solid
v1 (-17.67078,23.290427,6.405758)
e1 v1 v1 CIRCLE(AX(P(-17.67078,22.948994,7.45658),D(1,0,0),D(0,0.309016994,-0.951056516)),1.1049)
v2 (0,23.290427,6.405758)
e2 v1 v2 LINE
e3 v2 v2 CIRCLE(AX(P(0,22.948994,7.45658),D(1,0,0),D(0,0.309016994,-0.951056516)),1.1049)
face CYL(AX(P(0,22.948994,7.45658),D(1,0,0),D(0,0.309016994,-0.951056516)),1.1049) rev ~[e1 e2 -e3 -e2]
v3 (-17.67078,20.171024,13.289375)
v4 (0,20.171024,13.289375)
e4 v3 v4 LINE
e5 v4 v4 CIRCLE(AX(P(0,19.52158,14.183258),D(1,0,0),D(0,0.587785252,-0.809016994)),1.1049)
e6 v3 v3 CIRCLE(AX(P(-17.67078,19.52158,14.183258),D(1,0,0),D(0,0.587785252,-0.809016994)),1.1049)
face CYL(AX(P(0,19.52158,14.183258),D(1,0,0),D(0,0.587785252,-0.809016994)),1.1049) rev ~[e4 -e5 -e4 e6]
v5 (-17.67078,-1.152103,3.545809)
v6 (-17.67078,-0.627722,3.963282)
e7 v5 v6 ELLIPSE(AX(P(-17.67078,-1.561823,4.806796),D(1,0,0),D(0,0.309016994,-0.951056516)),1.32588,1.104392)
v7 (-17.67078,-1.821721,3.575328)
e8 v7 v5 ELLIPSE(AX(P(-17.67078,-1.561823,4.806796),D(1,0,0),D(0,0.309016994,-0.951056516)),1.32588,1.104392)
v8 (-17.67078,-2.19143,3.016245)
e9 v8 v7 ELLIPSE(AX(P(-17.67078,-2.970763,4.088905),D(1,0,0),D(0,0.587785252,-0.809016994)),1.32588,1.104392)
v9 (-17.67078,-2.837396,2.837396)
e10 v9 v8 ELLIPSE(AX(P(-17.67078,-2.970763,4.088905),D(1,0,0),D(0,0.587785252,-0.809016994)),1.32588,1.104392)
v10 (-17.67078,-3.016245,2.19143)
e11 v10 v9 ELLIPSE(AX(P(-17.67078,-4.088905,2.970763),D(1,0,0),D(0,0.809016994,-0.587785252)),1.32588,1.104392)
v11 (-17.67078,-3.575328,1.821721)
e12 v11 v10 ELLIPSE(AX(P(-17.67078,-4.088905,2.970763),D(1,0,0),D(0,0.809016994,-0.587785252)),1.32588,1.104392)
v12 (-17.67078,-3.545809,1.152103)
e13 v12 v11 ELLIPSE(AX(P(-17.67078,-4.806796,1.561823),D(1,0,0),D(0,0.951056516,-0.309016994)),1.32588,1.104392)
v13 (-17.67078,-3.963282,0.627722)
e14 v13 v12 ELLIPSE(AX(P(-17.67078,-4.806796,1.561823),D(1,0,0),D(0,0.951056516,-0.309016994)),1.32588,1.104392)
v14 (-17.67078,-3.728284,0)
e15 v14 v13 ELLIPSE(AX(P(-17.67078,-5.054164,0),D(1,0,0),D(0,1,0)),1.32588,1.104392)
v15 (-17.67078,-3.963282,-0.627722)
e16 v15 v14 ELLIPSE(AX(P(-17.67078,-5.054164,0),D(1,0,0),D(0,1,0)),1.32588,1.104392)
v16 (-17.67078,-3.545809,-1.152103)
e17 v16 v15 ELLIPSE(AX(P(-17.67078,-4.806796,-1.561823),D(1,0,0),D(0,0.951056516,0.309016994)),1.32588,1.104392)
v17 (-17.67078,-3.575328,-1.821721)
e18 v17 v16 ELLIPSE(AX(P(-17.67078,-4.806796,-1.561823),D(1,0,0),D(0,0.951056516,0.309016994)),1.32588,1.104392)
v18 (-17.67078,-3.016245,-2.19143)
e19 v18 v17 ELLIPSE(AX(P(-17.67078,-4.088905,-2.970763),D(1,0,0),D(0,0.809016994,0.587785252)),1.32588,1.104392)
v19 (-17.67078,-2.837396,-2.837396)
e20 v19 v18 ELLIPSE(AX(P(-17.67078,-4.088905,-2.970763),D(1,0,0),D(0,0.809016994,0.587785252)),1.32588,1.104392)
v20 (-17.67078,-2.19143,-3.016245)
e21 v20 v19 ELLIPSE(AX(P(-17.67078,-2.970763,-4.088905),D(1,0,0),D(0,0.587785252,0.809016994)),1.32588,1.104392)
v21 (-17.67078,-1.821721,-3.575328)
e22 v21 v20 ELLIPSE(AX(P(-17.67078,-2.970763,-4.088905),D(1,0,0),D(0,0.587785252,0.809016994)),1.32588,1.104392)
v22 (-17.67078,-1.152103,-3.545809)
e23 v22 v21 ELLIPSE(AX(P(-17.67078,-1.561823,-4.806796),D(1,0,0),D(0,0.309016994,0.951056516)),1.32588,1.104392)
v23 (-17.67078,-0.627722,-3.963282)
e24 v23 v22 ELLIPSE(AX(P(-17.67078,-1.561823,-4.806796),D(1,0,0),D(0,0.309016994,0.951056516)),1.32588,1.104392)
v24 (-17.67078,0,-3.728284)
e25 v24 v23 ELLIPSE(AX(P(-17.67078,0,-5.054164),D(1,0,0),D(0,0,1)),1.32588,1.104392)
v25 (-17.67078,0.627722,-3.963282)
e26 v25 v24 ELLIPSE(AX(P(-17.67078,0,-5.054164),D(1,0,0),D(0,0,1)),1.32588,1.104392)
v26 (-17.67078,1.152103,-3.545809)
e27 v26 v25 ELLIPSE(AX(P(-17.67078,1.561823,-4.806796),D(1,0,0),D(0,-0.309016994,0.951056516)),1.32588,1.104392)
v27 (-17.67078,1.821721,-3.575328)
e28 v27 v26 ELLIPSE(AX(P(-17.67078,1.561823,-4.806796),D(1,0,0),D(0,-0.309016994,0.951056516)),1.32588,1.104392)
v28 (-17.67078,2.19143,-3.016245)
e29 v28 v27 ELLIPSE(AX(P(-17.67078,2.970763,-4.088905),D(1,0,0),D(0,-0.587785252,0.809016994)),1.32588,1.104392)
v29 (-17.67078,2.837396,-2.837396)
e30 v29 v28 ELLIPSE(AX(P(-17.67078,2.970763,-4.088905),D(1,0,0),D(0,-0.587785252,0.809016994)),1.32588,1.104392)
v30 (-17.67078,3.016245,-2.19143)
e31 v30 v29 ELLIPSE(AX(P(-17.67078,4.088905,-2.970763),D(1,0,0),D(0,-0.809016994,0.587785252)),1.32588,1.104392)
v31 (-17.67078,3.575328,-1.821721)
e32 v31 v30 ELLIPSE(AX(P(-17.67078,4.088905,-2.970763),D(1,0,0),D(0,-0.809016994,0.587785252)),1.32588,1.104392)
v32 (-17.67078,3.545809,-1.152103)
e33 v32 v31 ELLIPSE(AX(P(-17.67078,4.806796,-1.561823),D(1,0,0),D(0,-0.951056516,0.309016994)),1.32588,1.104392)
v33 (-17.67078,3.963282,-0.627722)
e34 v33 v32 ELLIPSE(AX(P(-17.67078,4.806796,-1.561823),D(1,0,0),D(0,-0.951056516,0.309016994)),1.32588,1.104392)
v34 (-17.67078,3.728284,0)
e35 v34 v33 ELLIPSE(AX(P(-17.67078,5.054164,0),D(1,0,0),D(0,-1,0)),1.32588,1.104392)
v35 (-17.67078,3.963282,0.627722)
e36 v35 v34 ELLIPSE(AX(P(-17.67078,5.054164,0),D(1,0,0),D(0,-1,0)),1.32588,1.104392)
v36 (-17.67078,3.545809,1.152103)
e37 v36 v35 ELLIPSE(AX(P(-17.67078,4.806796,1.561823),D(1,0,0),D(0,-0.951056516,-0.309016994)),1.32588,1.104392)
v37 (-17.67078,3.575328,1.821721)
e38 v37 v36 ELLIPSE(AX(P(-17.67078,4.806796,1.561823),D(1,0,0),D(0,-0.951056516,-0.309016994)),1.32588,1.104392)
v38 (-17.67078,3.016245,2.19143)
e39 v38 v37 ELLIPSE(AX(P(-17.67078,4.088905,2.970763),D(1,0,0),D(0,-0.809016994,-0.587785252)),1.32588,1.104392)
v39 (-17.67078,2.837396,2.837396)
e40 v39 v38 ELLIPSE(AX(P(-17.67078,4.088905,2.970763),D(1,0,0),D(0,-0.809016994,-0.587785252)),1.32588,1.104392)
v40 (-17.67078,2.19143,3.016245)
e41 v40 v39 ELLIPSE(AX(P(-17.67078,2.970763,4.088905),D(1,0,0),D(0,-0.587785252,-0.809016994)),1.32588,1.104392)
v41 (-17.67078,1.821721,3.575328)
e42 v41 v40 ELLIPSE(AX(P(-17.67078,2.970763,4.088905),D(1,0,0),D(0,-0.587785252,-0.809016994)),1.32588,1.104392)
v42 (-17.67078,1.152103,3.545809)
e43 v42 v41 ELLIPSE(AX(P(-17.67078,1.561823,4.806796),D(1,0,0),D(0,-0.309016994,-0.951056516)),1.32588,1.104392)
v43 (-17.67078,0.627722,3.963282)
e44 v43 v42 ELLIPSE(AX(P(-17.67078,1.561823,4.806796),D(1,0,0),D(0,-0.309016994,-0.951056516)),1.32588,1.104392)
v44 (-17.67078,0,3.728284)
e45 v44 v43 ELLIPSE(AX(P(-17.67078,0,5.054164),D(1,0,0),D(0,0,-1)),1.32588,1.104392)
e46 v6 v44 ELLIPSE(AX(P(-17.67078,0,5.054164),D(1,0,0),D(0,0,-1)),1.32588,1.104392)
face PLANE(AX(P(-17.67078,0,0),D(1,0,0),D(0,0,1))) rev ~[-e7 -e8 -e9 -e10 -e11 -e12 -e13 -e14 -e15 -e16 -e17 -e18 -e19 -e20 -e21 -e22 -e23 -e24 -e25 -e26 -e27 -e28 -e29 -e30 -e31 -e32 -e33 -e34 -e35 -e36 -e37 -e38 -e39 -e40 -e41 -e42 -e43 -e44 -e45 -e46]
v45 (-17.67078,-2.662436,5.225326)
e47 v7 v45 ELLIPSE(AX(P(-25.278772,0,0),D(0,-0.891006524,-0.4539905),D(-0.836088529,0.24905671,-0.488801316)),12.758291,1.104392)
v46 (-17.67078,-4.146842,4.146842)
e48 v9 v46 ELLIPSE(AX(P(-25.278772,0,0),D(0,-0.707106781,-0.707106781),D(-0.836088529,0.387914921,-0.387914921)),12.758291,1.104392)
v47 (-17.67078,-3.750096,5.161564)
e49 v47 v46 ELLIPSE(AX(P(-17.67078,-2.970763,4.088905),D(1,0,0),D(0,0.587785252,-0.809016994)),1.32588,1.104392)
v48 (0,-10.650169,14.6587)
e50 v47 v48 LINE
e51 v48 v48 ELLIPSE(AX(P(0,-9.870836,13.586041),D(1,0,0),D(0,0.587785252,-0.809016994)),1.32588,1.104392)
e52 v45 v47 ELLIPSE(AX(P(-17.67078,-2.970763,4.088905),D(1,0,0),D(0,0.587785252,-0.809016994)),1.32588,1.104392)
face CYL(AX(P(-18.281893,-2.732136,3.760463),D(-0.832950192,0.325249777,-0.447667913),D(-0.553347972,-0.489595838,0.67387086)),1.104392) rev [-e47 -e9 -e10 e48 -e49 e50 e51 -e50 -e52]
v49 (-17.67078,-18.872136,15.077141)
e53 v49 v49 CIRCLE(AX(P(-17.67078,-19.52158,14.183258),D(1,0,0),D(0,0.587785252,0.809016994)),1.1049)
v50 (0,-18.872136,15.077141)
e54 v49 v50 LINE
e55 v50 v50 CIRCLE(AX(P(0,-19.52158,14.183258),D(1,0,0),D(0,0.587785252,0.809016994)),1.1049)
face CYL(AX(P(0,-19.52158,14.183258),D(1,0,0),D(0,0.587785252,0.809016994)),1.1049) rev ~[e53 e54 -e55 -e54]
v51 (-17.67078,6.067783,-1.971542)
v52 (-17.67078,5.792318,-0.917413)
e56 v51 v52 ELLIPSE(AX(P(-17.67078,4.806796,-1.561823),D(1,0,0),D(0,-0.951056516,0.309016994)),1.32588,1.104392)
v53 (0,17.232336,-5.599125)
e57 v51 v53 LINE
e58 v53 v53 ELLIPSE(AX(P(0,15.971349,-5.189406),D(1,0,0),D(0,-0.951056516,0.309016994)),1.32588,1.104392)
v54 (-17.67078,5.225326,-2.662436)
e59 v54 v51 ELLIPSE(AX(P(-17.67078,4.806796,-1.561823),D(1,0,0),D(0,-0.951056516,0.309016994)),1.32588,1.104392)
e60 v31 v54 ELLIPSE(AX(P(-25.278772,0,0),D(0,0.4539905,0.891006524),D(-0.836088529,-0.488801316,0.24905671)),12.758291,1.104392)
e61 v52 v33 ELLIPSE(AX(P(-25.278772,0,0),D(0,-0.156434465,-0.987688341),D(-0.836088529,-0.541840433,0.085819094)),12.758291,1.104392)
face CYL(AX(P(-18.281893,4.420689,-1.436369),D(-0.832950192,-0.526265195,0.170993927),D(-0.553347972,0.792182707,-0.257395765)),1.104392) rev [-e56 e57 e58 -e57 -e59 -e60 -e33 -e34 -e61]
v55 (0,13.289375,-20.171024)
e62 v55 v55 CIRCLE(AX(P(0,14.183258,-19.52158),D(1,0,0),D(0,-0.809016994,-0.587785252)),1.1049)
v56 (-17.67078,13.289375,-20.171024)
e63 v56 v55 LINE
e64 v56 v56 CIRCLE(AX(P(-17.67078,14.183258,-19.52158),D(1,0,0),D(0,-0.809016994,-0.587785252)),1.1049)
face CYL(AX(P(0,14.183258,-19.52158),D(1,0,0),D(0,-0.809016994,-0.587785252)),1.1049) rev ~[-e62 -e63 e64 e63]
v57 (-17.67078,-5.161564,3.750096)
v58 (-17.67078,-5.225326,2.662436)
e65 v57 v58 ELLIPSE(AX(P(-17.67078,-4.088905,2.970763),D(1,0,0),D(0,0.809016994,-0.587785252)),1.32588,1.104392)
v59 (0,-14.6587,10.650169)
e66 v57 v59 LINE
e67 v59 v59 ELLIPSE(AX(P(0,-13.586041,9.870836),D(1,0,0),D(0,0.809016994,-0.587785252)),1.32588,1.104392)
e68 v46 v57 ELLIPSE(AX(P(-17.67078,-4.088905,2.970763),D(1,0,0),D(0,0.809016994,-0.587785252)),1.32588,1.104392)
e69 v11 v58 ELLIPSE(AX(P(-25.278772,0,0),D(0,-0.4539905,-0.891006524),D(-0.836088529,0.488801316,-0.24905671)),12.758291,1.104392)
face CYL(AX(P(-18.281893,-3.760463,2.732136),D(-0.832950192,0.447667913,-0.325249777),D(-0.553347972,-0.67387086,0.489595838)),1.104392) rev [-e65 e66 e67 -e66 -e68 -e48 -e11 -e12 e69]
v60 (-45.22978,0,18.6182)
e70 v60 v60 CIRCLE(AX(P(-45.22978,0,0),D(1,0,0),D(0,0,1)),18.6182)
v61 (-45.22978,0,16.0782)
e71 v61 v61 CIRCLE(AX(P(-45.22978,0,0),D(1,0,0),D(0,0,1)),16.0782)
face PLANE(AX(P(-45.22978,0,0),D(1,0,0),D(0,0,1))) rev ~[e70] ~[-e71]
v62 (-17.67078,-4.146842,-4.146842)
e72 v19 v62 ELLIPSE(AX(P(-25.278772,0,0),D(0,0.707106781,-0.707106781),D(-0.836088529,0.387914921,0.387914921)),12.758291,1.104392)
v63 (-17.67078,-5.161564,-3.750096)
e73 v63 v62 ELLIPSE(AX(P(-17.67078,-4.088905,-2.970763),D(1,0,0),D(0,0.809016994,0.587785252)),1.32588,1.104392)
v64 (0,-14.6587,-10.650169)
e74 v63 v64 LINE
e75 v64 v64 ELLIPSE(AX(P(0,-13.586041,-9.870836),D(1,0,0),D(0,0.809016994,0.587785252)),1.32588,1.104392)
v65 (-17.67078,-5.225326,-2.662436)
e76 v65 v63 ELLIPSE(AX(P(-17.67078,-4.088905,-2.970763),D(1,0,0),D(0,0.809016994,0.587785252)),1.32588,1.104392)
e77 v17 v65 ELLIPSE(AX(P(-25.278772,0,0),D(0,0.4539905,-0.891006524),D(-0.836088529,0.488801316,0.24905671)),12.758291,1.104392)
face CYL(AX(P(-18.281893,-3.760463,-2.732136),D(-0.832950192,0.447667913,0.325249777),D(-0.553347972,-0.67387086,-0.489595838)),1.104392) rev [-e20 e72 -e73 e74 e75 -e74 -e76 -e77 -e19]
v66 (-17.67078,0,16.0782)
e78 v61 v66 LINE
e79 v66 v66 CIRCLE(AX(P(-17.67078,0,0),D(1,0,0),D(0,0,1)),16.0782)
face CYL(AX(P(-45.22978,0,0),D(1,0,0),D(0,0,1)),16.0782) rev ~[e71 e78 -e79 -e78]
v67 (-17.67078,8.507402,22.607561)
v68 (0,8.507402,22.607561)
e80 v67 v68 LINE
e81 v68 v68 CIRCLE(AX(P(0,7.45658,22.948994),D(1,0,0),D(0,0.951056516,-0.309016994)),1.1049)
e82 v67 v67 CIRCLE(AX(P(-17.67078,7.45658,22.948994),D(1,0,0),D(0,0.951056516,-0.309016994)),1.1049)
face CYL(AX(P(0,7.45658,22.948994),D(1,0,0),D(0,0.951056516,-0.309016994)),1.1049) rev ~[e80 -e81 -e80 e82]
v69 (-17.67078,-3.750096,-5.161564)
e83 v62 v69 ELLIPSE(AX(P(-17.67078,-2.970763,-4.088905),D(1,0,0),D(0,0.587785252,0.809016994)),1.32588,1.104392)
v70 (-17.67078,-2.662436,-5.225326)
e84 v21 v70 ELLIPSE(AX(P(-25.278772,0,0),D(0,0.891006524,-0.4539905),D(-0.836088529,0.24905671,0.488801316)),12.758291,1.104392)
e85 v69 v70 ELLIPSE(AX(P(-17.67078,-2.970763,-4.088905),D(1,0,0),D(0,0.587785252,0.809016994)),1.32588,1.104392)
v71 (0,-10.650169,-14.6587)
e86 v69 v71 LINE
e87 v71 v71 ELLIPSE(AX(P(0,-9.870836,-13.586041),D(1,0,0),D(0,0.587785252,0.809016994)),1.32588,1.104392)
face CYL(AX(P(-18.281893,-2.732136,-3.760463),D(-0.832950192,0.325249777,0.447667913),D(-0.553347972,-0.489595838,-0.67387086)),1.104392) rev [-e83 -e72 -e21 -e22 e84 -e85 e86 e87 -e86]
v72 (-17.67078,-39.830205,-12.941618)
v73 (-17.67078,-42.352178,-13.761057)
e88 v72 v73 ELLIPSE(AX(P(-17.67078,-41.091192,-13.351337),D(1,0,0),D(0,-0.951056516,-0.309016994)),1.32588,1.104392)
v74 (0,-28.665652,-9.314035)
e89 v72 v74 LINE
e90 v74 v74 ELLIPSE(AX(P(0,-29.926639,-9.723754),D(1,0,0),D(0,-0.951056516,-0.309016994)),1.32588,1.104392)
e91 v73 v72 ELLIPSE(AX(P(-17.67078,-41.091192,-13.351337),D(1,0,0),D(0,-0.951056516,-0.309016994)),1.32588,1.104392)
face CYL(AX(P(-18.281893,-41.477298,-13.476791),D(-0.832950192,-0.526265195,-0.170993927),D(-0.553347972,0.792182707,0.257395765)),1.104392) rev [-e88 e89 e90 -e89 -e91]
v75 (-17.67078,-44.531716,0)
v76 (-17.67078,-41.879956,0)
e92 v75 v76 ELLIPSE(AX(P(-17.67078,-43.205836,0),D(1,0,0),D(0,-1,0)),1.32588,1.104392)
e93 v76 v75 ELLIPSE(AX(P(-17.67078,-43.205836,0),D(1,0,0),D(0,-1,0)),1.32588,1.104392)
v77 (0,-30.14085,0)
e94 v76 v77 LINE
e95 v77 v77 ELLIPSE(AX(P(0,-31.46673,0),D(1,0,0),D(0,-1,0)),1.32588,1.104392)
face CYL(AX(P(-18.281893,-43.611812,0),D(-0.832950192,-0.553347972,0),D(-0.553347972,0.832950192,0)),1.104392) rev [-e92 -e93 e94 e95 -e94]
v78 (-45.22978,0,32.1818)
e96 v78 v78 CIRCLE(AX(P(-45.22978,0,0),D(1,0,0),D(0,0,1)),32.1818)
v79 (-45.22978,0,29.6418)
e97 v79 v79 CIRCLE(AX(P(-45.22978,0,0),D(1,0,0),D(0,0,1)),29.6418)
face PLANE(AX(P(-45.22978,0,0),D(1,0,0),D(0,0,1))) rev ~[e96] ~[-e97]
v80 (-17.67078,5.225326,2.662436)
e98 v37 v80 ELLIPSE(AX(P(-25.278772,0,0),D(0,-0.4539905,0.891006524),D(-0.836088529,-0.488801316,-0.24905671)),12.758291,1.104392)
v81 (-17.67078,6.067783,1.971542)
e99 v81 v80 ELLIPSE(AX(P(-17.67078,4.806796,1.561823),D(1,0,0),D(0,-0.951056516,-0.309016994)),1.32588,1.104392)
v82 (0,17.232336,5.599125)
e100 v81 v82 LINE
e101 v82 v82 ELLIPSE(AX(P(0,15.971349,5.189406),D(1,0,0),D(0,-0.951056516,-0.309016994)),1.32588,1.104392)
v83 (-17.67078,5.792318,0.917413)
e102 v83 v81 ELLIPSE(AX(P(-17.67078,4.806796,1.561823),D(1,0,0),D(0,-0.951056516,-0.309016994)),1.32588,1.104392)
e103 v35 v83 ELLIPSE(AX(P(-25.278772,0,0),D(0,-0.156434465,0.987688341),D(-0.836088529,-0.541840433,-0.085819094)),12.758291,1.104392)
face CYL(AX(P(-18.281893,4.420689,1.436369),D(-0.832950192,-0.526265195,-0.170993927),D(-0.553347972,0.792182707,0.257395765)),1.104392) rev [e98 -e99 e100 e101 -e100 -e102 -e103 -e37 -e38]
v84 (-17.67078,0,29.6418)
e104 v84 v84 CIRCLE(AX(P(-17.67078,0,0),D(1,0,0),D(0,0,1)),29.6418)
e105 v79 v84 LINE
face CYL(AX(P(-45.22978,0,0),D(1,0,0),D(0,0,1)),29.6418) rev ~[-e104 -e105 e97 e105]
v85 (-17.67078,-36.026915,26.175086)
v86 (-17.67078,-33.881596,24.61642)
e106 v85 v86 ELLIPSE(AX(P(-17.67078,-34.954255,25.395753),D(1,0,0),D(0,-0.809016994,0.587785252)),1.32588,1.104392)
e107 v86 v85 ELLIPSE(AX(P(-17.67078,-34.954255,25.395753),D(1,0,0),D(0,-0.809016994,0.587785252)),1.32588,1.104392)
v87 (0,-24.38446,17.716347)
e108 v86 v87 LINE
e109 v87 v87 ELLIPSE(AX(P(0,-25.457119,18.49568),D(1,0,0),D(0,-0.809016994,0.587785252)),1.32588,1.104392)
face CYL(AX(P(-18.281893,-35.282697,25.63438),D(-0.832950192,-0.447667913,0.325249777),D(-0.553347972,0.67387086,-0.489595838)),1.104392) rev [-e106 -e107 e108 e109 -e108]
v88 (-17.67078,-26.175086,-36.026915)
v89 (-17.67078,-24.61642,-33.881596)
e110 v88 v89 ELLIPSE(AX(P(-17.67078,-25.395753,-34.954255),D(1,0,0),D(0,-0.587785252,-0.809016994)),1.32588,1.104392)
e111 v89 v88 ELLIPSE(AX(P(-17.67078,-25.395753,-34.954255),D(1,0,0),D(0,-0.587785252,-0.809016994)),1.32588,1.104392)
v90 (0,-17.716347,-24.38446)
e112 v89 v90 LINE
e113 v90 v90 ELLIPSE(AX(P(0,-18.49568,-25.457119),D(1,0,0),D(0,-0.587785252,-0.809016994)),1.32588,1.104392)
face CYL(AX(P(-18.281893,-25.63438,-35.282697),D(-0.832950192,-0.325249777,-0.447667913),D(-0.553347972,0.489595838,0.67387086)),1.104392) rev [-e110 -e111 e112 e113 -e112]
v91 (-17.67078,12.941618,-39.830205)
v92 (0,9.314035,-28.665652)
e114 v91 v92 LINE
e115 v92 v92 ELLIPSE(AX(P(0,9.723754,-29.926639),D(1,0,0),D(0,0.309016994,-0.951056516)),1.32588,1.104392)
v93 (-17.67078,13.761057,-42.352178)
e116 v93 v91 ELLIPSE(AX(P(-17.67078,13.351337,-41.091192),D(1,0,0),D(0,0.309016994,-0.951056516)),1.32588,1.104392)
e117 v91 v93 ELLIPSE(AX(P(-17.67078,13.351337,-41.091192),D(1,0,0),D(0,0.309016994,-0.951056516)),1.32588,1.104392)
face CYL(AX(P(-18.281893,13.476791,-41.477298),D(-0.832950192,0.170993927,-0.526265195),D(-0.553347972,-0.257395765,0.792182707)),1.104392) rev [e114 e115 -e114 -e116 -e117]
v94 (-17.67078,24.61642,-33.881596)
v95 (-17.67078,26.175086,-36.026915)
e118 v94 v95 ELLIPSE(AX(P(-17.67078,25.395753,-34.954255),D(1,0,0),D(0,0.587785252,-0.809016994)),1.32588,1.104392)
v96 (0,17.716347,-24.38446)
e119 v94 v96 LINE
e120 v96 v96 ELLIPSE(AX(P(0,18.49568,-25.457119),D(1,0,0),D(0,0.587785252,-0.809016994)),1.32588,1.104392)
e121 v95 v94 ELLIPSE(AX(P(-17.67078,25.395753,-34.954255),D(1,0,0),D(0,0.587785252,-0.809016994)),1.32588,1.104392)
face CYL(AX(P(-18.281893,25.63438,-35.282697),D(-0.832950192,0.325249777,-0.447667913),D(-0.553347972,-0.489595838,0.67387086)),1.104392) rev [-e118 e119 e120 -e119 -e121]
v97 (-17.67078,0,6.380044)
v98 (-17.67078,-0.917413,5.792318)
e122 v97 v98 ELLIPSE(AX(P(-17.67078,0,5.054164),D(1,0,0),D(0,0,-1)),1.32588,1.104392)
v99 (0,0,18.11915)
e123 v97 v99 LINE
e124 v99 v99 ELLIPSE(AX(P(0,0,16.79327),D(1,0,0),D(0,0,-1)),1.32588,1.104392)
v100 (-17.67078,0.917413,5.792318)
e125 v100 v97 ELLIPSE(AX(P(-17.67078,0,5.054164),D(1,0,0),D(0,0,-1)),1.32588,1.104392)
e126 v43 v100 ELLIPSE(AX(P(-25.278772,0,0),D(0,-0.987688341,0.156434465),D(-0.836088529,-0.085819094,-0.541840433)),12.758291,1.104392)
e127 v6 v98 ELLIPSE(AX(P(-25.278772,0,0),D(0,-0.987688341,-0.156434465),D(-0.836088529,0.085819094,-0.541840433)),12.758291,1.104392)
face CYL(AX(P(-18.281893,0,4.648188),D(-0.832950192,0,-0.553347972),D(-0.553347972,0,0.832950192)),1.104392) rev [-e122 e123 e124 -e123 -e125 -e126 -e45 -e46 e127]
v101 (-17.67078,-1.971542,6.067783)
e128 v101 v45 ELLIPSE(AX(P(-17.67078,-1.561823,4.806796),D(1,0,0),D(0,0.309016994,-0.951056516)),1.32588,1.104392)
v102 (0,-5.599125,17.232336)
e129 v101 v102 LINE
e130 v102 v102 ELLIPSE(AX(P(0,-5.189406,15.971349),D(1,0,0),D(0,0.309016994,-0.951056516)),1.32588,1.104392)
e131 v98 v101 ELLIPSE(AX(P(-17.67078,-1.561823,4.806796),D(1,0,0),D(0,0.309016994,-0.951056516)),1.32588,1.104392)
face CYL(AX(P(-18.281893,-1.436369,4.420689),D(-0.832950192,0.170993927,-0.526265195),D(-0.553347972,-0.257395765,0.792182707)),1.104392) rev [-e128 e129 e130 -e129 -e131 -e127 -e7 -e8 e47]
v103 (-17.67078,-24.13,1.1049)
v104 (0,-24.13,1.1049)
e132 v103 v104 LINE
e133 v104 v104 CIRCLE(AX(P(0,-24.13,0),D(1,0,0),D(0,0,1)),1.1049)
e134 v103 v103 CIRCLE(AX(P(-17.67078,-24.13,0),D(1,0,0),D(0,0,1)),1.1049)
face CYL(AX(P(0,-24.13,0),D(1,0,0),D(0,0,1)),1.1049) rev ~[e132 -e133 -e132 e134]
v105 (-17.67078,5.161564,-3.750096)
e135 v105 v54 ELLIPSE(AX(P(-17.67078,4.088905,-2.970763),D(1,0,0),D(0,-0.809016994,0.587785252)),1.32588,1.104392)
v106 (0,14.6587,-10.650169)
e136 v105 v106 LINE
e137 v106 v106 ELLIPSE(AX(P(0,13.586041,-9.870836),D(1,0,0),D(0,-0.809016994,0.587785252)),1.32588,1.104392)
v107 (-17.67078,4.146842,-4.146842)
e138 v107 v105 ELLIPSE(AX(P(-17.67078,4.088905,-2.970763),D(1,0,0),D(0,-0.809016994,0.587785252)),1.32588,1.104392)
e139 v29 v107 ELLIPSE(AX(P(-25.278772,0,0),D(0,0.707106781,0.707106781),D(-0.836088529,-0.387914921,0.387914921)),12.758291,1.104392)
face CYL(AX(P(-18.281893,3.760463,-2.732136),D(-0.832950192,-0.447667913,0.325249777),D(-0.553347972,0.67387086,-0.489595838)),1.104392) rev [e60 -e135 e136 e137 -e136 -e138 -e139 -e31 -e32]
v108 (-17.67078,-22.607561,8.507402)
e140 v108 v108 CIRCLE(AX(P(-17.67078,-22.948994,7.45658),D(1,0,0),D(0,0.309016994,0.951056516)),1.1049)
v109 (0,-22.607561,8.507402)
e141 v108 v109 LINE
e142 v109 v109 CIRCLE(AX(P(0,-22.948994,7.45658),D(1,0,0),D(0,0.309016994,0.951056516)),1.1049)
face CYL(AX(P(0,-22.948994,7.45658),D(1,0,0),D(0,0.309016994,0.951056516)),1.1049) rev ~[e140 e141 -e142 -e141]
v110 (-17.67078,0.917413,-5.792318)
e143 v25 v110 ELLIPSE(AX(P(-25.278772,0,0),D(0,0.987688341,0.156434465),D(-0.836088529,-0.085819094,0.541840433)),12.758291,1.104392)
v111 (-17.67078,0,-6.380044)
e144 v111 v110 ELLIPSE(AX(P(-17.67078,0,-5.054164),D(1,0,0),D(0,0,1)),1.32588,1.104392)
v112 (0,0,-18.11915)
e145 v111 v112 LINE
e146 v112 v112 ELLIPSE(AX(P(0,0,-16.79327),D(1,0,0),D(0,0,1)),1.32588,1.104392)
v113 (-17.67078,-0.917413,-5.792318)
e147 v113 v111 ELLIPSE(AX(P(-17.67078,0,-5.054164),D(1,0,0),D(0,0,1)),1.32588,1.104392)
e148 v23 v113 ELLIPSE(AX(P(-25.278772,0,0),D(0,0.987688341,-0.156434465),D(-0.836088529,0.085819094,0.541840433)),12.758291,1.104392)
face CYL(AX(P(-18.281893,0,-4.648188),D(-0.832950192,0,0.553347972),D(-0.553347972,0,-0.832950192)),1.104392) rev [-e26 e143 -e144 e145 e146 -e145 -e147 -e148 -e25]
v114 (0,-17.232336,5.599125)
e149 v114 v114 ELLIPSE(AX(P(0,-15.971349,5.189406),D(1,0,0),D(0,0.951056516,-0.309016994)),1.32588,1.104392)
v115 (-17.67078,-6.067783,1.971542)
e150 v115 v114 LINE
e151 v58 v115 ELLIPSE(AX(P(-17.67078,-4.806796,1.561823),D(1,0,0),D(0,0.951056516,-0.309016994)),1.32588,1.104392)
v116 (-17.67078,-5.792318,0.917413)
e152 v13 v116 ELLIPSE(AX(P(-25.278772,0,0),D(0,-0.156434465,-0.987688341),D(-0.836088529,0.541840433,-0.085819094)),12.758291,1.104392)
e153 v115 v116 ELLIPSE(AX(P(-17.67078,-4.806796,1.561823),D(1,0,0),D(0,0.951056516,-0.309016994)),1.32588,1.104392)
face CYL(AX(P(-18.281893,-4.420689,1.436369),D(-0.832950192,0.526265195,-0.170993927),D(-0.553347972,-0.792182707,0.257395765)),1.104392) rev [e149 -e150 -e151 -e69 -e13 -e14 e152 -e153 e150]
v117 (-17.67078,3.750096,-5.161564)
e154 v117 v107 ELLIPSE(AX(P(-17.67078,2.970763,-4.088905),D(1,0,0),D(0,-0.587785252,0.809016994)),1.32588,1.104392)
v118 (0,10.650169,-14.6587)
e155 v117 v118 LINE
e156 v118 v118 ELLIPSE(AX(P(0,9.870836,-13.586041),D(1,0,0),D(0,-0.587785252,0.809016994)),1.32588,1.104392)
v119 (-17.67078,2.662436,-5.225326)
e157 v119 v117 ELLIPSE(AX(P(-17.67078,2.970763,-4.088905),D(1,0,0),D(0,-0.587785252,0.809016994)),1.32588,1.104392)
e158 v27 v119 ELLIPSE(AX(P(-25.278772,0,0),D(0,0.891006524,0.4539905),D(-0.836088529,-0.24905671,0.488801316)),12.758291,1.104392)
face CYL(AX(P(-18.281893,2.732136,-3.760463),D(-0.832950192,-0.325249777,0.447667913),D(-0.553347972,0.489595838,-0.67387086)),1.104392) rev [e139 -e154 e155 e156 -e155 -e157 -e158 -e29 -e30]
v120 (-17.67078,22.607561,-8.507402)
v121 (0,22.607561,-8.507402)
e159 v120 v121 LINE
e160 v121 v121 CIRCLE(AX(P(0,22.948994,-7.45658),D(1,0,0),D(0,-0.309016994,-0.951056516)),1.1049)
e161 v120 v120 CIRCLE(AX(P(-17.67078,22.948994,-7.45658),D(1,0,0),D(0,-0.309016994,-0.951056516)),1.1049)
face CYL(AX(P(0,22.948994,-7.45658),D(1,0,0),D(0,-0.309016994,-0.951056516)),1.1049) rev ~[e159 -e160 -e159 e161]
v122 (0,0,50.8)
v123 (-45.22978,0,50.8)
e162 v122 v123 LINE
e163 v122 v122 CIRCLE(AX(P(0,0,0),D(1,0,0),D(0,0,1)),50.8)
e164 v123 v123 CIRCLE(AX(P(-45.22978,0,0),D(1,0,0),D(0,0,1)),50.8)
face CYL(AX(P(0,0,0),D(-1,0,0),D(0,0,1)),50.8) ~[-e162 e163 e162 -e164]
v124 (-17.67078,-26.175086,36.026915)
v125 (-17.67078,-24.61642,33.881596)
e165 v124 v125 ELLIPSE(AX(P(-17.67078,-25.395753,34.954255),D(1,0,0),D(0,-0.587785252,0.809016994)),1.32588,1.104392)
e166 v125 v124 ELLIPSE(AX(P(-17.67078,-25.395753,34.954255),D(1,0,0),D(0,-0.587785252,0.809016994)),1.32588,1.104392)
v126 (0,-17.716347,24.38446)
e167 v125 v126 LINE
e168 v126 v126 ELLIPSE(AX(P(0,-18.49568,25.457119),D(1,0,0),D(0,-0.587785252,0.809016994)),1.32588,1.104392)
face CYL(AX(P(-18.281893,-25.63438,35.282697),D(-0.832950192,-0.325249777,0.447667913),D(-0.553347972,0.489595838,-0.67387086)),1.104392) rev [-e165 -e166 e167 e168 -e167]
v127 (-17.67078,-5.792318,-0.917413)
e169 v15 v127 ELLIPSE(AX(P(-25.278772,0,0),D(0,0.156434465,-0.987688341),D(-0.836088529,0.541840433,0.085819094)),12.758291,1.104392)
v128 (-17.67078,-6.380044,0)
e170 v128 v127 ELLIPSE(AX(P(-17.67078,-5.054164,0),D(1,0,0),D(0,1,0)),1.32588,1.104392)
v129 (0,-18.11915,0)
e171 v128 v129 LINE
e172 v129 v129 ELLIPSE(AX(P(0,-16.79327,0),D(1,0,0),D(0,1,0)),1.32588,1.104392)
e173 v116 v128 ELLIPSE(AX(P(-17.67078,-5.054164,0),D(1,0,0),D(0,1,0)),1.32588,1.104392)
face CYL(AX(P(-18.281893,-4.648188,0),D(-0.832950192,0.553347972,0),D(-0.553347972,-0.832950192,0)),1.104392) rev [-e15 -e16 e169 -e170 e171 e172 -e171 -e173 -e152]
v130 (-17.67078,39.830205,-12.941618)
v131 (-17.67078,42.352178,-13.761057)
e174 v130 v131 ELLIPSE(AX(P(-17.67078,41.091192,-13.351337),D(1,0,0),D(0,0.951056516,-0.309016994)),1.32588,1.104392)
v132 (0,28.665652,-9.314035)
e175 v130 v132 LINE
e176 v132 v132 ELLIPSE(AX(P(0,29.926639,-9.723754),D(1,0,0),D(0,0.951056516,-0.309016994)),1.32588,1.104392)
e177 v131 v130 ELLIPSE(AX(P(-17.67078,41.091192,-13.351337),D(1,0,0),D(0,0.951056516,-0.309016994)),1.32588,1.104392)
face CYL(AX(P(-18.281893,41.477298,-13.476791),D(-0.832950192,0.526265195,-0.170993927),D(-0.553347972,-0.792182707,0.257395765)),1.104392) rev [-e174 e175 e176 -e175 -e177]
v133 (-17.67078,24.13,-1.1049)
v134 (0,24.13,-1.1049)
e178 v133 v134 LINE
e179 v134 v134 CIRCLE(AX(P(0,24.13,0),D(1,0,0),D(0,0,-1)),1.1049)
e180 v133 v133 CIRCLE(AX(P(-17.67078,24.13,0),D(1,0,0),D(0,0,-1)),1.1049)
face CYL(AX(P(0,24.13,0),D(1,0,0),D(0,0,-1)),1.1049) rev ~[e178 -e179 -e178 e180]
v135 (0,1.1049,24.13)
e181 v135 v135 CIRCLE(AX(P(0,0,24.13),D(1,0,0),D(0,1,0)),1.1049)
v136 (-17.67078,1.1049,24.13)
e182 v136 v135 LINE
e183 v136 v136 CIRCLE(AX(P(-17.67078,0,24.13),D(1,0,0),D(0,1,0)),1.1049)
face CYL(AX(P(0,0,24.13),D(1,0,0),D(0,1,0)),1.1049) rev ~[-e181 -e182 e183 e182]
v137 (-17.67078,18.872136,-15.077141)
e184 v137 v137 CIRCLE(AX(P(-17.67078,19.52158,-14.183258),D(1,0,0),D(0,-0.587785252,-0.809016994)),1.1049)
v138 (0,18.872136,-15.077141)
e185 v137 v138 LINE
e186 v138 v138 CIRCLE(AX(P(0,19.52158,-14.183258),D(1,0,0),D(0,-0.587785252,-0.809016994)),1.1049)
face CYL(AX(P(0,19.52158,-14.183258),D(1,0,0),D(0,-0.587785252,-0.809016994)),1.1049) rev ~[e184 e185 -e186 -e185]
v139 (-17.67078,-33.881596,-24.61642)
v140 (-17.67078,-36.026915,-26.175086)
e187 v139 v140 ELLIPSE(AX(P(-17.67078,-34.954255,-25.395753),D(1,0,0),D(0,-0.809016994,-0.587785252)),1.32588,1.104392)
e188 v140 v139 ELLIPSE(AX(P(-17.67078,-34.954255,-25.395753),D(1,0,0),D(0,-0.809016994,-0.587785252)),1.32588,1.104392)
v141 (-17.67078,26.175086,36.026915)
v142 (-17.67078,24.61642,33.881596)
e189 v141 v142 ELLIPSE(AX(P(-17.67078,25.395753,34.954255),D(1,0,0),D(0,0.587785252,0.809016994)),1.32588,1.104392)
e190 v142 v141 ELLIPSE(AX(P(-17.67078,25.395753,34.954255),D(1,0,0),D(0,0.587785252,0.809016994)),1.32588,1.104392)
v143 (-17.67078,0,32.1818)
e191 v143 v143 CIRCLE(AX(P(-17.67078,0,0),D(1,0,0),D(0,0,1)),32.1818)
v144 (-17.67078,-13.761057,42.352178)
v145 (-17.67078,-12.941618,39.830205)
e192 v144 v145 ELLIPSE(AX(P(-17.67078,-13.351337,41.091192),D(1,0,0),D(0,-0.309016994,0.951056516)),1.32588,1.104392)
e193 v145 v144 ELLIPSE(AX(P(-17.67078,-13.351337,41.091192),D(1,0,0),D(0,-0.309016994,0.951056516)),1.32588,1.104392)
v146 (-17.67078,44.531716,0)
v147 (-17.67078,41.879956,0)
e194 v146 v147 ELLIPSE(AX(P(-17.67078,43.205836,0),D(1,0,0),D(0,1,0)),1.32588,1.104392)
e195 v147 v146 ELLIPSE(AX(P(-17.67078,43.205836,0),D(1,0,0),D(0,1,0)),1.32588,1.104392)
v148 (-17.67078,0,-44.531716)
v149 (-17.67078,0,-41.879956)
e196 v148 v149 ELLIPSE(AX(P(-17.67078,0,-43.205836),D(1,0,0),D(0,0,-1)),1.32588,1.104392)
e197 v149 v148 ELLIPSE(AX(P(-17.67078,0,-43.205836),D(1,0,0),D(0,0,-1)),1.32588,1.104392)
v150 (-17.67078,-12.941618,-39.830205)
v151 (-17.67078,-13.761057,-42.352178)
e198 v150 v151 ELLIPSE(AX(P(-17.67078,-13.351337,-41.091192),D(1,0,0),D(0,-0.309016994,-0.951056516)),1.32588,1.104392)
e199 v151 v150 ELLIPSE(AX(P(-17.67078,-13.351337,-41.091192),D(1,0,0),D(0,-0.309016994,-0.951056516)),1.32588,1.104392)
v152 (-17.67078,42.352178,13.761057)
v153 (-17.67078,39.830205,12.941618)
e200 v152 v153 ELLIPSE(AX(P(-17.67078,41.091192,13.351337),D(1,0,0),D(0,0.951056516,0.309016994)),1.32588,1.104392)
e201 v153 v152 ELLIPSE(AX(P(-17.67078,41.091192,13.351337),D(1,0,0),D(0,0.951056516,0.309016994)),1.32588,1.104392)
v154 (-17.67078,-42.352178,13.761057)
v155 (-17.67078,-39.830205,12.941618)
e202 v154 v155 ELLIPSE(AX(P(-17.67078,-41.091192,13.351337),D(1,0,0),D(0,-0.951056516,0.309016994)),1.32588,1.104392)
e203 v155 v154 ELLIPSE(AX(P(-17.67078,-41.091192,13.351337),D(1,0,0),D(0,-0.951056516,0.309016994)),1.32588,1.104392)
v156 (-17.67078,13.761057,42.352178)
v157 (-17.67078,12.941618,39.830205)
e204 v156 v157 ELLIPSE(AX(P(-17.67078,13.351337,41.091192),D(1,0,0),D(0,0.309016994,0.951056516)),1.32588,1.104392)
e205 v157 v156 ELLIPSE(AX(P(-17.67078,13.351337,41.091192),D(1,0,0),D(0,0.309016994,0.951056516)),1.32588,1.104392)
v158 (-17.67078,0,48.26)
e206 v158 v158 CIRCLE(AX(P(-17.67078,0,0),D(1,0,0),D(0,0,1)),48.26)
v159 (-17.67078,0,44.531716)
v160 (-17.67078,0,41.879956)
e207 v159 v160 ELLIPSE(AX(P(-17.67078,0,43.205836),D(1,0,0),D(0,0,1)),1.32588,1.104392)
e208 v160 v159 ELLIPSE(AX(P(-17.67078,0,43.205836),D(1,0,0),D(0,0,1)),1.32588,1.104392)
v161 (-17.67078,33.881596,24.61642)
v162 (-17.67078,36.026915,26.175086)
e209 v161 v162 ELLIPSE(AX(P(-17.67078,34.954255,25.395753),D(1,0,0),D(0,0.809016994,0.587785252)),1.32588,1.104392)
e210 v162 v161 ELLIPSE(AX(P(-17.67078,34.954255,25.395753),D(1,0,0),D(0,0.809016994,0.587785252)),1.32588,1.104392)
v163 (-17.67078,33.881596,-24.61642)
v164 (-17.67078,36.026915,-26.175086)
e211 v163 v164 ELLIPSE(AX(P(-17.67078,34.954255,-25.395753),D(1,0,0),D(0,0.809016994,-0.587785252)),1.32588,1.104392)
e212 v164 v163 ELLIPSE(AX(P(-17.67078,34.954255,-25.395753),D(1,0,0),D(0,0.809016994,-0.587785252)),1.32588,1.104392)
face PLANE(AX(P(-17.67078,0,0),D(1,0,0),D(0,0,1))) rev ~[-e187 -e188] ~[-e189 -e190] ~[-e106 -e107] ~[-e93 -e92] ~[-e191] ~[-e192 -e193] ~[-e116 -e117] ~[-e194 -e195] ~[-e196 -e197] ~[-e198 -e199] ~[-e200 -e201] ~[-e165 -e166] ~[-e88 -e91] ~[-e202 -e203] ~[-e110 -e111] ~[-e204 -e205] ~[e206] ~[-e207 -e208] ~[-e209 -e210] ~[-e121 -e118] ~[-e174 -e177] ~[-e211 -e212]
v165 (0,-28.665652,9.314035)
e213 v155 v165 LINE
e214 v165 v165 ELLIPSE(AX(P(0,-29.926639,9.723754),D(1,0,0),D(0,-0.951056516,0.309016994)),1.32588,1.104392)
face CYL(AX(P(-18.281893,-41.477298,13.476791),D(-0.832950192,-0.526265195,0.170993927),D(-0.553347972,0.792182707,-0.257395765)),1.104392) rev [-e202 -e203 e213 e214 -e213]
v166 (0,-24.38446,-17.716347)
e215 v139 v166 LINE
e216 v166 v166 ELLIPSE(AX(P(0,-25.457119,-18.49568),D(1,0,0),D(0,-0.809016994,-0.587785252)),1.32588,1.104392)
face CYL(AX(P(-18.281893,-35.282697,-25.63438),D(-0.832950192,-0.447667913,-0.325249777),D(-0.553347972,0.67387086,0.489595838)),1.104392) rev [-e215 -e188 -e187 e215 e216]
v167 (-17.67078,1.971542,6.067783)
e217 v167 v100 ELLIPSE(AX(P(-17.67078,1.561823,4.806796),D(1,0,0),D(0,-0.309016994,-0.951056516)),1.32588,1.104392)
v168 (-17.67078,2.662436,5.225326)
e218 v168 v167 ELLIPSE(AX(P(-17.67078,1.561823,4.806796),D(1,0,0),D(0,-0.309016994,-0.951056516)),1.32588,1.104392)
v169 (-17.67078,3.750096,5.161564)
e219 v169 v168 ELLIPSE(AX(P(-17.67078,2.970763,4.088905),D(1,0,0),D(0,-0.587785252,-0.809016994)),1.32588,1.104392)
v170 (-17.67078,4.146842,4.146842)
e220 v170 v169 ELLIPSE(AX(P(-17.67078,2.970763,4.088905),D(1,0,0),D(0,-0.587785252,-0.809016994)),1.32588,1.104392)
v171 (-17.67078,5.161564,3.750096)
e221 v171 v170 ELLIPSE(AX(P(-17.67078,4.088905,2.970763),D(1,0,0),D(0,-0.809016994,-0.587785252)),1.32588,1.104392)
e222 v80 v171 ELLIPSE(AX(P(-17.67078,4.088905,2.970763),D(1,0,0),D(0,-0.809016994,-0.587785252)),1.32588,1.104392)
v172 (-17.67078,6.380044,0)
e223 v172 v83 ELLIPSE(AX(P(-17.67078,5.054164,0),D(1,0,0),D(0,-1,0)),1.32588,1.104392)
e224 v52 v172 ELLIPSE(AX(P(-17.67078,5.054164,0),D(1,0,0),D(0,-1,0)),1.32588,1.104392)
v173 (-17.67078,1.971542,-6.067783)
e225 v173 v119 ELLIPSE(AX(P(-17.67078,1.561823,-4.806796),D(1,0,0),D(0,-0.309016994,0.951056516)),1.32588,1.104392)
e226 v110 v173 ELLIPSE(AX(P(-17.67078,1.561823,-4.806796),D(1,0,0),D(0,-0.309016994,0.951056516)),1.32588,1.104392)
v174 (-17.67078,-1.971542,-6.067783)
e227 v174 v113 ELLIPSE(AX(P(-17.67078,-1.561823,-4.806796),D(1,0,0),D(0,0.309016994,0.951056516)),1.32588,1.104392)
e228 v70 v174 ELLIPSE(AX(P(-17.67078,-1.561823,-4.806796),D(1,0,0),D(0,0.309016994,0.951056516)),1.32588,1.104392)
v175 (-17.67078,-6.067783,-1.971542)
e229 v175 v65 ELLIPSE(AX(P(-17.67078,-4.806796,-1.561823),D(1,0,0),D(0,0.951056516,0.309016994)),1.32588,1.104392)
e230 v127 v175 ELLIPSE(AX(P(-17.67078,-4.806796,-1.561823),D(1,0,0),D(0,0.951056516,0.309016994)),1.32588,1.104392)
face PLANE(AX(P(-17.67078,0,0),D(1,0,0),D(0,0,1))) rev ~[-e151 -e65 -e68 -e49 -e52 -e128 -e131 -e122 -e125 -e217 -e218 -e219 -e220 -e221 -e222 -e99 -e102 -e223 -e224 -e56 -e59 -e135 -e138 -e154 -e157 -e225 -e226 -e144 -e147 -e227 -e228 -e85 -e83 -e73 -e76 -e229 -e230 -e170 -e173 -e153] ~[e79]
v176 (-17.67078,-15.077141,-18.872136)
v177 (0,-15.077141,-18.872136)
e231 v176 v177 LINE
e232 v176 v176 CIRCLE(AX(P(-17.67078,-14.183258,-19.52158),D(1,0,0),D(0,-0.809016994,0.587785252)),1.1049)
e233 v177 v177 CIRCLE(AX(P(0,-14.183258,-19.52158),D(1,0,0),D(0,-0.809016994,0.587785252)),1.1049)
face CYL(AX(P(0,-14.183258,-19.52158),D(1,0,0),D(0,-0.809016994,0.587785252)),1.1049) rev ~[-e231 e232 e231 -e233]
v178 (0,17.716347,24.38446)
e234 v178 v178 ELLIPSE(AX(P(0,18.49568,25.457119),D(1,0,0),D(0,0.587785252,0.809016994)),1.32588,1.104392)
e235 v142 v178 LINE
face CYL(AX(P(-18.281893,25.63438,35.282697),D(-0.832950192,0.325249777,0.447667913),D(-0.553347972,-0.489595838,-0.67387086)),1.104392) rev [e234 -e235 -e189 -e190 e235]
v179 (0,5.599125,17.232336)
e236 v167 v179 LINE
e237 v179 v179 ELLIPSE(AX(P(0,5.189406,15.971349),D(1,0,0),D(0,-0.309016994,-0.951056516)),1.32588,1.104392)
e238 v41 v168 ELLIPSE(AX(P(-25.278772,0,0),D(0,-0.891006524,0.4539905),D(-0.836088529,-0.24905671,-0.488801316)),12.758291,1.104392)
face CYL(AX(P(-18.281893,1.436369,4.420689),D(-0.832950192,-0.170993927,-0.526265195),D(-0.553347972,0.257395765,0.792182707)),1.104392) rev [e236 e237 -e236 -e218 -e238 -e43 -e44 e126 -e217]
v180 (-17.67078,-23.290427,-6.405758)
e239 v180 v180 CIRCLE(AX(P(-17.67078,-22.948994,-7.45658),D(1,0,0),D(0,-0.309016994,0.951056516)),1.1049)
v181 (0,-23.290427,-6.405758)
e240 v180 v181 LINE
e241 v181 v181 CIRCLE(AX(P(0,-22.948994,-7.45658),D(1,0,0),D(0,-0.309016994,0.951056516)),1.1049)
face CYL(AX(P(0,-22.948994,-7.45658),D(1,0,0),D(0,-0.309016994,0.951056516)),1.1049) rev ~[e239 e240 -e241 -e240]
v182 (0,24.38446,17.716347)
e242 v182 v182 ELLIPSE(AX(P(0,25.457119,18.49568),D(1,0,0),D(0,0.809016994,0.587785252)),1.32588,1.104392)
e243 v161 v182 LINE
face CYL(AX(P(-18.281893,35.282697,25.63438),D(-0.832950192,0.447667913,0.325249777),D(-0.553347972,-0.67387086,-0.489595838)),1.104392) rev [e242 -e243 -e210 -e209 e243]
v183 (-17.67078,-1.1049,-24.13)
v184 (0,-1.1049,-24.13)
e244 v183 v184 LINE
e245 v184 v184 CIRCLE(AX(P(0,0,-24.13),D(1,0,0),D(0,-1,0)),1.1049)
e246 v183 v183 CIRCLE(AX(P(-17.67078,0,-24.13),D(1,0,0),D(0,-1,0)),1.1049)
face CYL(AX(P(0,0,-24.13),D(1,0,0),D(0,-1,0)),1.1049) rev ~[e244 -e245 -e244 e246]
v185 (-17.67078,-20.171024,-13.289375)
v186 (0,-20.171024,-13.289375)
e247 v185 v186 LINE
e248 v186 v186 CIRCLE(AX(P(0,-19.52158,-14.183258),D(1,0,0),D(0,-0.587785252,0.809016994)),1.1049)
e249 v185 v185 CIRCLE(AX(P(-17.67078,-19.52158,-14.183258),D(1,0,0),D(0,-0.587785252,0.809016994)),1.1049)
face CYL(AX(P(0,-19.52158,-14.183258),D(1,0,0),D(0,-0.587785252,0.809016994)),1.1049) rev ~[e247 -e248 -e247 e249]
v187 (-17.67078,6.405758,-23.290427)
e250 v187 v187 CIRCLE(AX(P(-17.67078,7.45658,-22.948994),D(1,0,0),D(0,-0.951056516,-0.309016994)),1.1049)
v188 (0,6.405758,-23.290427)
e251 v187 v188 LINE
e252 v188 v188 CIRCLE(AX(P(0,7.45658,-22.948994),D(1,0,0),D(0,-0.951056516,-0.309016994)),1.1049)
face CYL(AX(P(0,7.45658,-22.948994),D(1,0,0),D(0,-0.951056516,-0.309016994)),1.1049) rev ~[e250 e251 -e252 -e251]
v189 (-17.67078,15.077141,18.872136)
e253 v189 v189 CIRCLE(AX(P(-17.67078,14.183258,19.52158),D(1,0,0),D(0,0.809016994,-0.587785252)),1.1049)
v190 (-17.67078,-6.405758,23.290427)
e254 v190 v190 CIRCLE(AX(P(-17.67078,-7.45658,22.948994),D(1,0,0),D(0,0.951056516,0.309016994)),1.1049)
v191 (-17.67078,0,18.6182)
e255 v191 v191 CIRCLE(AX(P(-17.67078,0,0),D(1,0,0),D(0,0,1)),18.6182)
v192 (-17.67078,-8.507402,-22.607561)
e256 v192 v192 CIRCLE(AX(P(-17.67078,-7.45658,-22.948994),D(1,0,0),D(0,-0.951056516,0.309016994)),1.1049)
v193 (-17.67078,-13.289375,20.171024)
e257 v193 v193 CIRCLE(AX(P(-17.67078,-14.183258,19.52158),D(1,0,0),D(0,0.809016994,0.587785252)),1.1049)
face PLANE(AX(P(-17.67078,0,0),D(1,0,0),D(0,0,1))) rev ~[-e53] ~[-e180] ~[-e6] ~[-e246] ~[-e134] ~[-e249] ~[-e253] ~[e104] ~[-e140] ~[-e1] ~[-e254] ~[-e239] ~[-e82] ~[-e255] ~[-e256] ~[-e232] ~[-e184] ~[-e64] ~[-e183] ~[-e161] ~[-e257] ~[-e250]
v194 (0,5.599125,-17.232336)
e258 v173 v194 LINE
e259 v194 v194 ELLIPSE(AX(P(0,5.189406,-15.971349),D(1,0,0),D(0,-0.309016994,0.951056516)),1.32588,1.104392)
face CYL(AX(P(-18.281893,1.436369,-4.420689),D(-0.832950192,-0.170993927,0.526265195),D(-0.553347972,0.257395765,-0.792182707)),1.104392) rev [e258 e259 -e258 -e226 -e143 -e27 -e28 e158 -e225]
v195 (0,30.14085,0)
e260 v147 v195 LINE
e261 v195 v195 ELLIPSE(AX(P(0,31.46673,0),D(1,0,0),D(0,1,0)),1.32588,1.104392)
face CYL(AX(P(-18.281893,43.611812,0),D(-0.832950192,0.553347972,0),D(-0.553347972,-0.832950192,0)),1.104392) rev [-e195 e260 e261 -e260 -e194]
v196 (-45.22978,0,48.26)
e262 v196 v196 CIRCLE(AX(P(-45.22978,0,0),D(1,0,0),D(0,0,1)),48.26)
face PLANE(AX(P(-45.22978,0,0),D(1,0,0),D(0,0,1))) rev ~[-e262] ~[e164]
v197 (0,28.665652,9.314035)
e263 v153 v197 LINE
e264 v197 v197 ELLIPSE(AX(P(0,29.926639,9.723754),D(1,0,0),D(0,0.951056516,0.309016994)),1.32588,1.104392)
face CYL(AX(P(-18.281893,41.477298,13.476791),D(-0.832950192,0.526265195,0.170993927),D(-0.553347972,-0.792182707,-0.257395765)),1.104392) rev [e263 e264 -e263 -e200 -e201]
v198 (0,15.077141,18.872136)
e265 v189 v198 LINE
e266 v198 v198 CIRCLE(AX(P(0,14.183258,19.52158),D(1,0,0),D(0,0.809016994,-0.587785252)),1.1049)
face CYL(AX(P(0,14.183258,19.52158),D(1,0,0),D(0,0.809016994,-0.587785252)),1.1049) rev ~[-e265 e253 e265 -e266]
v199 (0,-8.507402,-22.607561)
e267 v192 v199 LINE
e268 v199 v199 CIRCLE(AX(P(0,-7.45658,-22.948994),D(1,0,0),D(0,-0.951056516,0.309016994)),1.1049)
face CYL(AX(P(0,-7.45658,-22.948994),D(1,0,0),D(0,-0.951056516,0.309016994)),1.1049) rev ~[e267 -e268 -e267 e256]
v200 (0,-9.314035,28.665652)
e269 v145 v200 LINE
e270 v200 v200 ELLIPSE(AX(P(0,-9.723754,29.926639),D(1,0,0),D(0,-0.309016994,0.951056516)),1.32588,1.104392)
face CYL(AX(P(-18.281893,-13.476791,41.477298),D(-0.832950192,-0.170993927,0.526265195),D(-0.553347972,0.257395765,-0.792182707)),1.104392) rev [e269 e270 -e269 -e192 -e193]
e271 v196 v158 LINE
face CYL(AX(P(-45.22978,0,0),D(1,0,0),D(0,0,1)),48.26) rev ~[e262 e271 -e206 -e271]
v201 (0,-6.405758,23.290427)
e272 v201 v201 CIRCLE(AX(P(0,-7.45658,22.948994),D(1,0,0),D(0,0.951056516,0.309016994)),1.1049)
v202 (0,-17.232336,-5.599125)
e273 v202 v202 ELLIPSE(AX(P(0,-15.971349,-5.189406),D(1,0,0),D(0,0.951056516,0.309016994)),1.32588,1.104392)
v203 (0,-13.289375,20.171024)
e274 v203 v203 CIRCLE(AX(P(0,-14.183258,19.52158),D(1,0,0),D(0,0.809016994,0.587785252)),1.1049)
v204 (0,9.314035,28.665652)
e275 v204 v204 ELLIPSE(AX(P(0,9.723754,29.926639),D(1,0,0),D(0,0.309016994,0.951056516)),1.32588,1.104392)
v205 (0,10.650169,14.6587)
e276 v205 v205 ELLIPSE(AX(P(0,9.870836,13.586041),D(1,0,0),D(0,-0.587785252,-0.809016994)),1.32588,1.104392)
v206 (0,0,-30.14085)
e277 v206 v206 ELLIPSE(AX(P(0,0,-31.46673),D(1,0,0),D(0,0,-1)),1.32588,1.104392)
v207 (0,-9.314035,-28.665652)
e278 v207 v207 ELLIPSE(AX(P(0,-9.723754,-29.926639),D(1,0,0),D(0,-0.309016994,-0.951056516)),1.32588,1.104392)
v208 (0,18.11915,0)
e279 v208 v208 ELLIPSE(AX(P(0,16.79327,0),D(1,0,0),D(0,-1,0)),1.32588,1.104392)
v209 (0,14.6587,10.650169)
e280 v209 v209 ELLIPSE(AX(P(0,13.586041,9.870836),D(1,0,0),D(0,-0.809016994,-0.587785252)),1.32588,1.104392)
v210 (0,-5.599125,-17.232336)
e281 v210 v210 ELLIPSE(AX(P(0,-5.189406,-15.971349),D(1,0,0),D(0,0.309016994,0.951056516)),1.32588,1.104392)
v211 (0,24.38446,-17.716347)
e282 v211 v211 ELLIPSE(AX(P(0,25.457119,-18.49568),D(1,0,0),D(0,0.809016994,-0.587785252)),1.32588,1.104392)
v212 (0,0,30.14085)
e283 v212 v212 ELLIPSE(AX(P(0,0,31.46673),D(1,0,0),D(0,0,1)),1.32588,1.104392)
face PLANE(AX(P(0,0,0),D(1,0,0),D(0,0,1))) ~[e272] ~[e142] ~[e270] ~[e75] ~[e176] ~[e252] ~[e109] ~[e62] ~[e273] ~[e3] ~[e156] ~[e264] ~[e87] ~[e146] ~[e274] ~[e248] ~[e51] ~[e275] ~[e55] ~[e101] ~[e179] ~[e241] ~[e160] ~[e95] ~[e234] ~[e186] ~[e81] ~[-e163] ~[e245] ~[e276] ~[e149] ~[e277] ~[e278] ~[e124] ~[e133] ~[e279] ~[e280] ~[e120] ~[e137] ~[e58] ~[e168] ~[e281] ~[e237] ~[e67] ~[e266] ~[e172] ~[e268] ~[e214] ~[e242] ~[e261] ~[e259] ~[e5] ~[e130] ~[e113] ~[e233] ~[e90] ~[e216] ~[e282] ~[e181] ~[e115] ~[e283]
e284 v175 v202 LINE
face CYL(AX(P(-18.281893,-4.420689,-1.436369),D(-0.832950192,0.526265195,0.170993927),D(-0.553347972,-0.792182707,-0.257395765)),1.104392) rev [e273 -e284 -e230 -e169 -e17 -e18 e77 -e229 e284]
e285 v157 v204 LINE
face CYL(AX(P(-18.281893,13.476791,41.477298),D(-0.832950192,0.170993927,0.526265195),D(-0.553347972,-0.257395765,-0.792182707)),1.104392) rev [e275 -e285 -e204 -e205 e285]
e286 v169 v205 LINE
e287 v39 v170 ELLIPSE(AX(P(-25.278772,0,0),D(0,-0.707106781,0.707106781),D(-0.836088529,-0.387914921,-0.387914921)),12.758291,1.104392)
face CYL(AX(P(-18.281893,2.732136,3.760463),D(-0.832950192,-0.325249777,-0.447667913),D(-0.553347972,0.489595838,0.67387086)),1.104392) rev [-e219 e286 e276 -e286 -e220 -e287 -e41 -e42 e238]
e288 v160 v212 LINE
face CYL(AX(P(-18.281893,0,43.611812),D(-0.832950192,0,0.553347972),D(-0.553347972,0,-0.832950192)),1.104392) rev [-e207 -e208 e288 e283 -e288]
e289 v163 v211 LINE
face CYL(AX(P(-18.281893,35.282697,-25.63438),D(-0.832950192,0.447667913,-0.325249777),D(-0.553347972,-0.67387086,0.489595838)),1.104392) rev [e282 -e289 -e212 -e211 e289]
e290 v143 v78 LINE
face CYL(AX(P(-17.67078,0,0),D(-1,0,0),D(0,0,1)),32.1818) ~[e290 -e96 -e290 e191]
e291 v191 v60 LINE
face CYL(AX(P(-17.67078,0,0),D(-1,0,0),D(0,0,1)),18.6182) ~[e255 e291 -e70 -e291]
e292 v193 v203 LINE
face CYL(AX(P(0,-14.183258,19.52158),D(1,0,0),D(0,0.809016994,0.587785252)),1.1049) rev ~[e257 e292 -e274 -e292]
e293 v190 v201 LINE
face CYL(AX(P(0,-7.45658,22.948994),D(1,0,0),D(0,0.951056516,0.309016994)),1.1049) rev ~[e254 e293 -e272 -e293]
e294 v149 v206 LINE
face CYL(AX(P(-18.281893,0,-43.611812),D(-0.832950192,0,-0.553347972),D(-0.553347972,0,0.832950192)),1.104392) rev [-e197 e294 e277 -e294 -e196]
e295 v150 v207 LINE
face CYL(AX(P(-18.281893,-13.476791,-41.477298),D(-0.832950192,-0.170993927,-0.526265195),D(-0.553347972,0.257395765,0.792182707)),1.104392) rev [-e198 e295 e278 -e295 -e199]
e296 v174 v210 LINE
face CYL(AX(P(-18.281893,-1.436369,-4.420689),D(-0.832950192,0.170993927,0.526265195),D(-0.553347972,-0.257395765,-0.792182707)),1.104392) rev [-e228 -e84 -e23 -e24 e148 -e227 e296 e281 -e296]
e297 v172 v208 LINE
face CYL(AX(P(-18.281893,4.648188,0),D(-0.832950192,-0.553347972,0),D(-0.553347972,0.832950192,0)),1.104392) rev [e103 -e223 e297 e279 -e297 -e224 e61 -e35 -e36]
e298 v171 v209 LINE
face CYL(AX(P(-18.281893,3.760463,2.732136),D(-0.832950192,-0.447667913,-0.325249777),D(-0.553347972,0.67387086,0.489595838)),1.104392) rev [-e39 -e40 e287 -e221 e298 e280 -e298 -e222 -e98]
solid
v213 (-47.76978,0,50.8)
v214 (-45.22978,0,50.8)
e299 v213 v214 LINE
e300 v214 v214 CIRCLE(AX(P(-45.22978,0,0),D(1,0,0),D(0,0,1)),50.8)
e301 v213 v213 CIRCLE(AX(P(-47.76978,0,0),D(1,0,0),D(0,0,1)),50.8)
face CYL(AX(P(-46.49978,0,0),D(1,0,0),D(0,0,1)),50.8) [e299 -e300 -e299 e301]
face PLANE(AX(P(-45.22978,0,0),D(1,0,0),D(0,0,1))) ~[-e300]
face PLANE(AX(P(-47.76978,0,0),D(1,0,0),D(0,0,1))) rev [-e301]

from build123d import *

# Parameters (mm, degrees)
SKETCH3_W          = 17.67078
SKETCH3_H          = 1.1049
SKETCH3_13_W       = 2.54
SKETCH3_13_H       = 50.8
CUT_EXTRUDE2_START = -21.948363
SKETCH5_R          = 1.104392
CUT_EXTRUDE2_DEPTH = 22.682036
SKETCH7_R          = 1.1049
CUT_EXTRUDE3_DEPTH = 87.27416694
CUT_EXTRUDE4_START = -21.948363
SKETCH6_R          = 1.104392
CUT_EXTRUDE4_DEPTH = 22.682036
CIRPATTERN1_COUNT  = 20


with BuildPart() as part:
    # Sketch3 → Revolve1 (revolve)
    with BuildSketch(Plane.XY, mode=Mode.PRIVATE) as revolve1_sk:
        Polygon((0, 0), (0, 15.467389906), (-17.67078, 3.728284279), (-17.67078, 0), align=None)
        Polygon((-17.67078, 18.6182), (-45.22978, 18.6182), (-45.22978, 16.0782), (-17.67078, 16.0782), (-17.67078, 6.380044279), (0, 18.119149906), (0, 23.0251), (-17.67078, 23.0251), align=None)
        Polygon((0, 25.2349), (0, 30.140850094), (-17.67078, 41.879955721), (-17.67078, 32.1818), (-45.22978, 32.1818), (-45.22978, 29.6418), (-17.67078, 29.6418), (-17.67078, 25.2349), align=None)
        Polygon((0, 32.792610094), (0, 50.8), (-45.22978, 50.8), (-45.22978, 48.26), (-17.67078, 48.26), (-17.67078, 44.531715721), align=None)
        Polygon((0, 31.466730094), (0, 32.792610094), (-17.67078, 44.531715721), (-17.67078, 43.205835721), align=None)
        Polygon((0, 30.140850094), (0, 31.466730094), (-17.67078, 43.205835721), (-17.67078, 41.879955721), align=None)
        with Locations((-8.83539, 24.68245)):
            Rectangle(SKETCH3_W, SKETCH3_H)
        with Locations((-8.83539, 23.57755)):
            Rectangle(SKETCH3_W, SKETCH3_H)
        Polygon((0, 16.793269906), (0, 18.119149906), (-17.67078, 6.380044279), (-17.67078, 5.054164279), align=None)
        Polygon((0, 15.467389906), (0, 16.793269906), (-17.67078, 5.054164279), (-17.67078, 3.728284279), align=None)
    revolve(revolve1_sk.sketch.rotate(Axis((-52.09557047, 0, 0), (1, 0, 0)), 90), axis=Axis((-52.09557047, 0, 0), (1, 0, 0)))

    # Sketch5 → Cut-Extrude2 (cut)
    with BuildSketch(Plane(origin=(0, 31.466730094, 0), x_dir=(0, 0, -1), z_dir=(0.8329501915708811, -0.5533479722218494, 0)).offset(CUT_EXTRUDE2_START)):
        with Locations(Location((0, 0, 0), (0, 0, 270))):
            Circle(SKETCH5_R)
    cut_extrude2 = extrude(amount=CUT_EXTRUDE2_DEPTH, mode=Mode.SUBTRACT)

    # Sketch7 → Cut-Extrude3 (cut, symmetric)
    with BuildSketch(Plane(origin=(0, 0, 0), x_dir=(0, 0, -1), z_dir=(1, 0, 0))):
        with Locations((0, 24.13)):
            Circle(SKETCH7_R)
    cut_extrude3 = extrude(amount=CUT_EXTRUDE3_DEPTH, both=True, mode=Mode.SUBTRACT)

    # Sketch6 → Cut-Extrude4 (cut)
    with BuildSketch(Plane(origin=(0, 16.793269906, 0), x_dir=(0, 0, -1), z_dir=(0.8329501915708811, 0.5533479722218493, 0)).offset(CUT_EXTRUDE4_START)):
        with Locations(Location((0, 0, 0), (0, 0, 90))):
            Circle(SKETCH6_R)
    cut_extrude4 = extrude(amount=CUT_EXTRUDE4_DEPTH, mode=Mode.SUBTRACT)

    # CirPattern1: Cut-Extrude2, Cut-Extrude3, Cut-Extrude4 ×20 about axis
    cirpattern1_axis = Axis((0, 0, 0), (1, 0, 0))
    add([cut_extrude2.rotate(cirpattern1_axis, i * 360 / CIRPATTERN1_COUNT) for i in range(1, CIRPATTERN1_COUNT)], mode=Mode.SUBTRACT)
    add([cut_extrude3.rotate(cirpattern1_axis, i * 360 / CIRPATTERN1_COUNT) for i in range(1, CIRPATTERN1_COUNT)], mode=Mode.SUBTRACT)
    add([cut_extrude4.rotate(cirpattern1_axis, i * 360 / CIRPATTERN1_COUNT) for i in range(1, CIRPATTERN1_COUNT)], mode=Mode.SUBTRACT)


with BuildPart() as body_2:
    # Sketch3<13> → Revolve2 (revolve)
    with BuildSketch(Plane.XY, mode=Mode.PRIVATE) as revolve2_sk:
        with Locations((-46.49978, 25.4)):
            Rectangle(SKETCH3_13_W, SKETCH3_13_H)
    revolve(revolve2_sk.sketch.rotate(Axis((-52.09557047, 0, 0), (1, 0, 0)), 90), axis=Axis((-52.09557047, 0, 0), (1, 0, 0)))


solid = Compound([part.part, body_2.part])
